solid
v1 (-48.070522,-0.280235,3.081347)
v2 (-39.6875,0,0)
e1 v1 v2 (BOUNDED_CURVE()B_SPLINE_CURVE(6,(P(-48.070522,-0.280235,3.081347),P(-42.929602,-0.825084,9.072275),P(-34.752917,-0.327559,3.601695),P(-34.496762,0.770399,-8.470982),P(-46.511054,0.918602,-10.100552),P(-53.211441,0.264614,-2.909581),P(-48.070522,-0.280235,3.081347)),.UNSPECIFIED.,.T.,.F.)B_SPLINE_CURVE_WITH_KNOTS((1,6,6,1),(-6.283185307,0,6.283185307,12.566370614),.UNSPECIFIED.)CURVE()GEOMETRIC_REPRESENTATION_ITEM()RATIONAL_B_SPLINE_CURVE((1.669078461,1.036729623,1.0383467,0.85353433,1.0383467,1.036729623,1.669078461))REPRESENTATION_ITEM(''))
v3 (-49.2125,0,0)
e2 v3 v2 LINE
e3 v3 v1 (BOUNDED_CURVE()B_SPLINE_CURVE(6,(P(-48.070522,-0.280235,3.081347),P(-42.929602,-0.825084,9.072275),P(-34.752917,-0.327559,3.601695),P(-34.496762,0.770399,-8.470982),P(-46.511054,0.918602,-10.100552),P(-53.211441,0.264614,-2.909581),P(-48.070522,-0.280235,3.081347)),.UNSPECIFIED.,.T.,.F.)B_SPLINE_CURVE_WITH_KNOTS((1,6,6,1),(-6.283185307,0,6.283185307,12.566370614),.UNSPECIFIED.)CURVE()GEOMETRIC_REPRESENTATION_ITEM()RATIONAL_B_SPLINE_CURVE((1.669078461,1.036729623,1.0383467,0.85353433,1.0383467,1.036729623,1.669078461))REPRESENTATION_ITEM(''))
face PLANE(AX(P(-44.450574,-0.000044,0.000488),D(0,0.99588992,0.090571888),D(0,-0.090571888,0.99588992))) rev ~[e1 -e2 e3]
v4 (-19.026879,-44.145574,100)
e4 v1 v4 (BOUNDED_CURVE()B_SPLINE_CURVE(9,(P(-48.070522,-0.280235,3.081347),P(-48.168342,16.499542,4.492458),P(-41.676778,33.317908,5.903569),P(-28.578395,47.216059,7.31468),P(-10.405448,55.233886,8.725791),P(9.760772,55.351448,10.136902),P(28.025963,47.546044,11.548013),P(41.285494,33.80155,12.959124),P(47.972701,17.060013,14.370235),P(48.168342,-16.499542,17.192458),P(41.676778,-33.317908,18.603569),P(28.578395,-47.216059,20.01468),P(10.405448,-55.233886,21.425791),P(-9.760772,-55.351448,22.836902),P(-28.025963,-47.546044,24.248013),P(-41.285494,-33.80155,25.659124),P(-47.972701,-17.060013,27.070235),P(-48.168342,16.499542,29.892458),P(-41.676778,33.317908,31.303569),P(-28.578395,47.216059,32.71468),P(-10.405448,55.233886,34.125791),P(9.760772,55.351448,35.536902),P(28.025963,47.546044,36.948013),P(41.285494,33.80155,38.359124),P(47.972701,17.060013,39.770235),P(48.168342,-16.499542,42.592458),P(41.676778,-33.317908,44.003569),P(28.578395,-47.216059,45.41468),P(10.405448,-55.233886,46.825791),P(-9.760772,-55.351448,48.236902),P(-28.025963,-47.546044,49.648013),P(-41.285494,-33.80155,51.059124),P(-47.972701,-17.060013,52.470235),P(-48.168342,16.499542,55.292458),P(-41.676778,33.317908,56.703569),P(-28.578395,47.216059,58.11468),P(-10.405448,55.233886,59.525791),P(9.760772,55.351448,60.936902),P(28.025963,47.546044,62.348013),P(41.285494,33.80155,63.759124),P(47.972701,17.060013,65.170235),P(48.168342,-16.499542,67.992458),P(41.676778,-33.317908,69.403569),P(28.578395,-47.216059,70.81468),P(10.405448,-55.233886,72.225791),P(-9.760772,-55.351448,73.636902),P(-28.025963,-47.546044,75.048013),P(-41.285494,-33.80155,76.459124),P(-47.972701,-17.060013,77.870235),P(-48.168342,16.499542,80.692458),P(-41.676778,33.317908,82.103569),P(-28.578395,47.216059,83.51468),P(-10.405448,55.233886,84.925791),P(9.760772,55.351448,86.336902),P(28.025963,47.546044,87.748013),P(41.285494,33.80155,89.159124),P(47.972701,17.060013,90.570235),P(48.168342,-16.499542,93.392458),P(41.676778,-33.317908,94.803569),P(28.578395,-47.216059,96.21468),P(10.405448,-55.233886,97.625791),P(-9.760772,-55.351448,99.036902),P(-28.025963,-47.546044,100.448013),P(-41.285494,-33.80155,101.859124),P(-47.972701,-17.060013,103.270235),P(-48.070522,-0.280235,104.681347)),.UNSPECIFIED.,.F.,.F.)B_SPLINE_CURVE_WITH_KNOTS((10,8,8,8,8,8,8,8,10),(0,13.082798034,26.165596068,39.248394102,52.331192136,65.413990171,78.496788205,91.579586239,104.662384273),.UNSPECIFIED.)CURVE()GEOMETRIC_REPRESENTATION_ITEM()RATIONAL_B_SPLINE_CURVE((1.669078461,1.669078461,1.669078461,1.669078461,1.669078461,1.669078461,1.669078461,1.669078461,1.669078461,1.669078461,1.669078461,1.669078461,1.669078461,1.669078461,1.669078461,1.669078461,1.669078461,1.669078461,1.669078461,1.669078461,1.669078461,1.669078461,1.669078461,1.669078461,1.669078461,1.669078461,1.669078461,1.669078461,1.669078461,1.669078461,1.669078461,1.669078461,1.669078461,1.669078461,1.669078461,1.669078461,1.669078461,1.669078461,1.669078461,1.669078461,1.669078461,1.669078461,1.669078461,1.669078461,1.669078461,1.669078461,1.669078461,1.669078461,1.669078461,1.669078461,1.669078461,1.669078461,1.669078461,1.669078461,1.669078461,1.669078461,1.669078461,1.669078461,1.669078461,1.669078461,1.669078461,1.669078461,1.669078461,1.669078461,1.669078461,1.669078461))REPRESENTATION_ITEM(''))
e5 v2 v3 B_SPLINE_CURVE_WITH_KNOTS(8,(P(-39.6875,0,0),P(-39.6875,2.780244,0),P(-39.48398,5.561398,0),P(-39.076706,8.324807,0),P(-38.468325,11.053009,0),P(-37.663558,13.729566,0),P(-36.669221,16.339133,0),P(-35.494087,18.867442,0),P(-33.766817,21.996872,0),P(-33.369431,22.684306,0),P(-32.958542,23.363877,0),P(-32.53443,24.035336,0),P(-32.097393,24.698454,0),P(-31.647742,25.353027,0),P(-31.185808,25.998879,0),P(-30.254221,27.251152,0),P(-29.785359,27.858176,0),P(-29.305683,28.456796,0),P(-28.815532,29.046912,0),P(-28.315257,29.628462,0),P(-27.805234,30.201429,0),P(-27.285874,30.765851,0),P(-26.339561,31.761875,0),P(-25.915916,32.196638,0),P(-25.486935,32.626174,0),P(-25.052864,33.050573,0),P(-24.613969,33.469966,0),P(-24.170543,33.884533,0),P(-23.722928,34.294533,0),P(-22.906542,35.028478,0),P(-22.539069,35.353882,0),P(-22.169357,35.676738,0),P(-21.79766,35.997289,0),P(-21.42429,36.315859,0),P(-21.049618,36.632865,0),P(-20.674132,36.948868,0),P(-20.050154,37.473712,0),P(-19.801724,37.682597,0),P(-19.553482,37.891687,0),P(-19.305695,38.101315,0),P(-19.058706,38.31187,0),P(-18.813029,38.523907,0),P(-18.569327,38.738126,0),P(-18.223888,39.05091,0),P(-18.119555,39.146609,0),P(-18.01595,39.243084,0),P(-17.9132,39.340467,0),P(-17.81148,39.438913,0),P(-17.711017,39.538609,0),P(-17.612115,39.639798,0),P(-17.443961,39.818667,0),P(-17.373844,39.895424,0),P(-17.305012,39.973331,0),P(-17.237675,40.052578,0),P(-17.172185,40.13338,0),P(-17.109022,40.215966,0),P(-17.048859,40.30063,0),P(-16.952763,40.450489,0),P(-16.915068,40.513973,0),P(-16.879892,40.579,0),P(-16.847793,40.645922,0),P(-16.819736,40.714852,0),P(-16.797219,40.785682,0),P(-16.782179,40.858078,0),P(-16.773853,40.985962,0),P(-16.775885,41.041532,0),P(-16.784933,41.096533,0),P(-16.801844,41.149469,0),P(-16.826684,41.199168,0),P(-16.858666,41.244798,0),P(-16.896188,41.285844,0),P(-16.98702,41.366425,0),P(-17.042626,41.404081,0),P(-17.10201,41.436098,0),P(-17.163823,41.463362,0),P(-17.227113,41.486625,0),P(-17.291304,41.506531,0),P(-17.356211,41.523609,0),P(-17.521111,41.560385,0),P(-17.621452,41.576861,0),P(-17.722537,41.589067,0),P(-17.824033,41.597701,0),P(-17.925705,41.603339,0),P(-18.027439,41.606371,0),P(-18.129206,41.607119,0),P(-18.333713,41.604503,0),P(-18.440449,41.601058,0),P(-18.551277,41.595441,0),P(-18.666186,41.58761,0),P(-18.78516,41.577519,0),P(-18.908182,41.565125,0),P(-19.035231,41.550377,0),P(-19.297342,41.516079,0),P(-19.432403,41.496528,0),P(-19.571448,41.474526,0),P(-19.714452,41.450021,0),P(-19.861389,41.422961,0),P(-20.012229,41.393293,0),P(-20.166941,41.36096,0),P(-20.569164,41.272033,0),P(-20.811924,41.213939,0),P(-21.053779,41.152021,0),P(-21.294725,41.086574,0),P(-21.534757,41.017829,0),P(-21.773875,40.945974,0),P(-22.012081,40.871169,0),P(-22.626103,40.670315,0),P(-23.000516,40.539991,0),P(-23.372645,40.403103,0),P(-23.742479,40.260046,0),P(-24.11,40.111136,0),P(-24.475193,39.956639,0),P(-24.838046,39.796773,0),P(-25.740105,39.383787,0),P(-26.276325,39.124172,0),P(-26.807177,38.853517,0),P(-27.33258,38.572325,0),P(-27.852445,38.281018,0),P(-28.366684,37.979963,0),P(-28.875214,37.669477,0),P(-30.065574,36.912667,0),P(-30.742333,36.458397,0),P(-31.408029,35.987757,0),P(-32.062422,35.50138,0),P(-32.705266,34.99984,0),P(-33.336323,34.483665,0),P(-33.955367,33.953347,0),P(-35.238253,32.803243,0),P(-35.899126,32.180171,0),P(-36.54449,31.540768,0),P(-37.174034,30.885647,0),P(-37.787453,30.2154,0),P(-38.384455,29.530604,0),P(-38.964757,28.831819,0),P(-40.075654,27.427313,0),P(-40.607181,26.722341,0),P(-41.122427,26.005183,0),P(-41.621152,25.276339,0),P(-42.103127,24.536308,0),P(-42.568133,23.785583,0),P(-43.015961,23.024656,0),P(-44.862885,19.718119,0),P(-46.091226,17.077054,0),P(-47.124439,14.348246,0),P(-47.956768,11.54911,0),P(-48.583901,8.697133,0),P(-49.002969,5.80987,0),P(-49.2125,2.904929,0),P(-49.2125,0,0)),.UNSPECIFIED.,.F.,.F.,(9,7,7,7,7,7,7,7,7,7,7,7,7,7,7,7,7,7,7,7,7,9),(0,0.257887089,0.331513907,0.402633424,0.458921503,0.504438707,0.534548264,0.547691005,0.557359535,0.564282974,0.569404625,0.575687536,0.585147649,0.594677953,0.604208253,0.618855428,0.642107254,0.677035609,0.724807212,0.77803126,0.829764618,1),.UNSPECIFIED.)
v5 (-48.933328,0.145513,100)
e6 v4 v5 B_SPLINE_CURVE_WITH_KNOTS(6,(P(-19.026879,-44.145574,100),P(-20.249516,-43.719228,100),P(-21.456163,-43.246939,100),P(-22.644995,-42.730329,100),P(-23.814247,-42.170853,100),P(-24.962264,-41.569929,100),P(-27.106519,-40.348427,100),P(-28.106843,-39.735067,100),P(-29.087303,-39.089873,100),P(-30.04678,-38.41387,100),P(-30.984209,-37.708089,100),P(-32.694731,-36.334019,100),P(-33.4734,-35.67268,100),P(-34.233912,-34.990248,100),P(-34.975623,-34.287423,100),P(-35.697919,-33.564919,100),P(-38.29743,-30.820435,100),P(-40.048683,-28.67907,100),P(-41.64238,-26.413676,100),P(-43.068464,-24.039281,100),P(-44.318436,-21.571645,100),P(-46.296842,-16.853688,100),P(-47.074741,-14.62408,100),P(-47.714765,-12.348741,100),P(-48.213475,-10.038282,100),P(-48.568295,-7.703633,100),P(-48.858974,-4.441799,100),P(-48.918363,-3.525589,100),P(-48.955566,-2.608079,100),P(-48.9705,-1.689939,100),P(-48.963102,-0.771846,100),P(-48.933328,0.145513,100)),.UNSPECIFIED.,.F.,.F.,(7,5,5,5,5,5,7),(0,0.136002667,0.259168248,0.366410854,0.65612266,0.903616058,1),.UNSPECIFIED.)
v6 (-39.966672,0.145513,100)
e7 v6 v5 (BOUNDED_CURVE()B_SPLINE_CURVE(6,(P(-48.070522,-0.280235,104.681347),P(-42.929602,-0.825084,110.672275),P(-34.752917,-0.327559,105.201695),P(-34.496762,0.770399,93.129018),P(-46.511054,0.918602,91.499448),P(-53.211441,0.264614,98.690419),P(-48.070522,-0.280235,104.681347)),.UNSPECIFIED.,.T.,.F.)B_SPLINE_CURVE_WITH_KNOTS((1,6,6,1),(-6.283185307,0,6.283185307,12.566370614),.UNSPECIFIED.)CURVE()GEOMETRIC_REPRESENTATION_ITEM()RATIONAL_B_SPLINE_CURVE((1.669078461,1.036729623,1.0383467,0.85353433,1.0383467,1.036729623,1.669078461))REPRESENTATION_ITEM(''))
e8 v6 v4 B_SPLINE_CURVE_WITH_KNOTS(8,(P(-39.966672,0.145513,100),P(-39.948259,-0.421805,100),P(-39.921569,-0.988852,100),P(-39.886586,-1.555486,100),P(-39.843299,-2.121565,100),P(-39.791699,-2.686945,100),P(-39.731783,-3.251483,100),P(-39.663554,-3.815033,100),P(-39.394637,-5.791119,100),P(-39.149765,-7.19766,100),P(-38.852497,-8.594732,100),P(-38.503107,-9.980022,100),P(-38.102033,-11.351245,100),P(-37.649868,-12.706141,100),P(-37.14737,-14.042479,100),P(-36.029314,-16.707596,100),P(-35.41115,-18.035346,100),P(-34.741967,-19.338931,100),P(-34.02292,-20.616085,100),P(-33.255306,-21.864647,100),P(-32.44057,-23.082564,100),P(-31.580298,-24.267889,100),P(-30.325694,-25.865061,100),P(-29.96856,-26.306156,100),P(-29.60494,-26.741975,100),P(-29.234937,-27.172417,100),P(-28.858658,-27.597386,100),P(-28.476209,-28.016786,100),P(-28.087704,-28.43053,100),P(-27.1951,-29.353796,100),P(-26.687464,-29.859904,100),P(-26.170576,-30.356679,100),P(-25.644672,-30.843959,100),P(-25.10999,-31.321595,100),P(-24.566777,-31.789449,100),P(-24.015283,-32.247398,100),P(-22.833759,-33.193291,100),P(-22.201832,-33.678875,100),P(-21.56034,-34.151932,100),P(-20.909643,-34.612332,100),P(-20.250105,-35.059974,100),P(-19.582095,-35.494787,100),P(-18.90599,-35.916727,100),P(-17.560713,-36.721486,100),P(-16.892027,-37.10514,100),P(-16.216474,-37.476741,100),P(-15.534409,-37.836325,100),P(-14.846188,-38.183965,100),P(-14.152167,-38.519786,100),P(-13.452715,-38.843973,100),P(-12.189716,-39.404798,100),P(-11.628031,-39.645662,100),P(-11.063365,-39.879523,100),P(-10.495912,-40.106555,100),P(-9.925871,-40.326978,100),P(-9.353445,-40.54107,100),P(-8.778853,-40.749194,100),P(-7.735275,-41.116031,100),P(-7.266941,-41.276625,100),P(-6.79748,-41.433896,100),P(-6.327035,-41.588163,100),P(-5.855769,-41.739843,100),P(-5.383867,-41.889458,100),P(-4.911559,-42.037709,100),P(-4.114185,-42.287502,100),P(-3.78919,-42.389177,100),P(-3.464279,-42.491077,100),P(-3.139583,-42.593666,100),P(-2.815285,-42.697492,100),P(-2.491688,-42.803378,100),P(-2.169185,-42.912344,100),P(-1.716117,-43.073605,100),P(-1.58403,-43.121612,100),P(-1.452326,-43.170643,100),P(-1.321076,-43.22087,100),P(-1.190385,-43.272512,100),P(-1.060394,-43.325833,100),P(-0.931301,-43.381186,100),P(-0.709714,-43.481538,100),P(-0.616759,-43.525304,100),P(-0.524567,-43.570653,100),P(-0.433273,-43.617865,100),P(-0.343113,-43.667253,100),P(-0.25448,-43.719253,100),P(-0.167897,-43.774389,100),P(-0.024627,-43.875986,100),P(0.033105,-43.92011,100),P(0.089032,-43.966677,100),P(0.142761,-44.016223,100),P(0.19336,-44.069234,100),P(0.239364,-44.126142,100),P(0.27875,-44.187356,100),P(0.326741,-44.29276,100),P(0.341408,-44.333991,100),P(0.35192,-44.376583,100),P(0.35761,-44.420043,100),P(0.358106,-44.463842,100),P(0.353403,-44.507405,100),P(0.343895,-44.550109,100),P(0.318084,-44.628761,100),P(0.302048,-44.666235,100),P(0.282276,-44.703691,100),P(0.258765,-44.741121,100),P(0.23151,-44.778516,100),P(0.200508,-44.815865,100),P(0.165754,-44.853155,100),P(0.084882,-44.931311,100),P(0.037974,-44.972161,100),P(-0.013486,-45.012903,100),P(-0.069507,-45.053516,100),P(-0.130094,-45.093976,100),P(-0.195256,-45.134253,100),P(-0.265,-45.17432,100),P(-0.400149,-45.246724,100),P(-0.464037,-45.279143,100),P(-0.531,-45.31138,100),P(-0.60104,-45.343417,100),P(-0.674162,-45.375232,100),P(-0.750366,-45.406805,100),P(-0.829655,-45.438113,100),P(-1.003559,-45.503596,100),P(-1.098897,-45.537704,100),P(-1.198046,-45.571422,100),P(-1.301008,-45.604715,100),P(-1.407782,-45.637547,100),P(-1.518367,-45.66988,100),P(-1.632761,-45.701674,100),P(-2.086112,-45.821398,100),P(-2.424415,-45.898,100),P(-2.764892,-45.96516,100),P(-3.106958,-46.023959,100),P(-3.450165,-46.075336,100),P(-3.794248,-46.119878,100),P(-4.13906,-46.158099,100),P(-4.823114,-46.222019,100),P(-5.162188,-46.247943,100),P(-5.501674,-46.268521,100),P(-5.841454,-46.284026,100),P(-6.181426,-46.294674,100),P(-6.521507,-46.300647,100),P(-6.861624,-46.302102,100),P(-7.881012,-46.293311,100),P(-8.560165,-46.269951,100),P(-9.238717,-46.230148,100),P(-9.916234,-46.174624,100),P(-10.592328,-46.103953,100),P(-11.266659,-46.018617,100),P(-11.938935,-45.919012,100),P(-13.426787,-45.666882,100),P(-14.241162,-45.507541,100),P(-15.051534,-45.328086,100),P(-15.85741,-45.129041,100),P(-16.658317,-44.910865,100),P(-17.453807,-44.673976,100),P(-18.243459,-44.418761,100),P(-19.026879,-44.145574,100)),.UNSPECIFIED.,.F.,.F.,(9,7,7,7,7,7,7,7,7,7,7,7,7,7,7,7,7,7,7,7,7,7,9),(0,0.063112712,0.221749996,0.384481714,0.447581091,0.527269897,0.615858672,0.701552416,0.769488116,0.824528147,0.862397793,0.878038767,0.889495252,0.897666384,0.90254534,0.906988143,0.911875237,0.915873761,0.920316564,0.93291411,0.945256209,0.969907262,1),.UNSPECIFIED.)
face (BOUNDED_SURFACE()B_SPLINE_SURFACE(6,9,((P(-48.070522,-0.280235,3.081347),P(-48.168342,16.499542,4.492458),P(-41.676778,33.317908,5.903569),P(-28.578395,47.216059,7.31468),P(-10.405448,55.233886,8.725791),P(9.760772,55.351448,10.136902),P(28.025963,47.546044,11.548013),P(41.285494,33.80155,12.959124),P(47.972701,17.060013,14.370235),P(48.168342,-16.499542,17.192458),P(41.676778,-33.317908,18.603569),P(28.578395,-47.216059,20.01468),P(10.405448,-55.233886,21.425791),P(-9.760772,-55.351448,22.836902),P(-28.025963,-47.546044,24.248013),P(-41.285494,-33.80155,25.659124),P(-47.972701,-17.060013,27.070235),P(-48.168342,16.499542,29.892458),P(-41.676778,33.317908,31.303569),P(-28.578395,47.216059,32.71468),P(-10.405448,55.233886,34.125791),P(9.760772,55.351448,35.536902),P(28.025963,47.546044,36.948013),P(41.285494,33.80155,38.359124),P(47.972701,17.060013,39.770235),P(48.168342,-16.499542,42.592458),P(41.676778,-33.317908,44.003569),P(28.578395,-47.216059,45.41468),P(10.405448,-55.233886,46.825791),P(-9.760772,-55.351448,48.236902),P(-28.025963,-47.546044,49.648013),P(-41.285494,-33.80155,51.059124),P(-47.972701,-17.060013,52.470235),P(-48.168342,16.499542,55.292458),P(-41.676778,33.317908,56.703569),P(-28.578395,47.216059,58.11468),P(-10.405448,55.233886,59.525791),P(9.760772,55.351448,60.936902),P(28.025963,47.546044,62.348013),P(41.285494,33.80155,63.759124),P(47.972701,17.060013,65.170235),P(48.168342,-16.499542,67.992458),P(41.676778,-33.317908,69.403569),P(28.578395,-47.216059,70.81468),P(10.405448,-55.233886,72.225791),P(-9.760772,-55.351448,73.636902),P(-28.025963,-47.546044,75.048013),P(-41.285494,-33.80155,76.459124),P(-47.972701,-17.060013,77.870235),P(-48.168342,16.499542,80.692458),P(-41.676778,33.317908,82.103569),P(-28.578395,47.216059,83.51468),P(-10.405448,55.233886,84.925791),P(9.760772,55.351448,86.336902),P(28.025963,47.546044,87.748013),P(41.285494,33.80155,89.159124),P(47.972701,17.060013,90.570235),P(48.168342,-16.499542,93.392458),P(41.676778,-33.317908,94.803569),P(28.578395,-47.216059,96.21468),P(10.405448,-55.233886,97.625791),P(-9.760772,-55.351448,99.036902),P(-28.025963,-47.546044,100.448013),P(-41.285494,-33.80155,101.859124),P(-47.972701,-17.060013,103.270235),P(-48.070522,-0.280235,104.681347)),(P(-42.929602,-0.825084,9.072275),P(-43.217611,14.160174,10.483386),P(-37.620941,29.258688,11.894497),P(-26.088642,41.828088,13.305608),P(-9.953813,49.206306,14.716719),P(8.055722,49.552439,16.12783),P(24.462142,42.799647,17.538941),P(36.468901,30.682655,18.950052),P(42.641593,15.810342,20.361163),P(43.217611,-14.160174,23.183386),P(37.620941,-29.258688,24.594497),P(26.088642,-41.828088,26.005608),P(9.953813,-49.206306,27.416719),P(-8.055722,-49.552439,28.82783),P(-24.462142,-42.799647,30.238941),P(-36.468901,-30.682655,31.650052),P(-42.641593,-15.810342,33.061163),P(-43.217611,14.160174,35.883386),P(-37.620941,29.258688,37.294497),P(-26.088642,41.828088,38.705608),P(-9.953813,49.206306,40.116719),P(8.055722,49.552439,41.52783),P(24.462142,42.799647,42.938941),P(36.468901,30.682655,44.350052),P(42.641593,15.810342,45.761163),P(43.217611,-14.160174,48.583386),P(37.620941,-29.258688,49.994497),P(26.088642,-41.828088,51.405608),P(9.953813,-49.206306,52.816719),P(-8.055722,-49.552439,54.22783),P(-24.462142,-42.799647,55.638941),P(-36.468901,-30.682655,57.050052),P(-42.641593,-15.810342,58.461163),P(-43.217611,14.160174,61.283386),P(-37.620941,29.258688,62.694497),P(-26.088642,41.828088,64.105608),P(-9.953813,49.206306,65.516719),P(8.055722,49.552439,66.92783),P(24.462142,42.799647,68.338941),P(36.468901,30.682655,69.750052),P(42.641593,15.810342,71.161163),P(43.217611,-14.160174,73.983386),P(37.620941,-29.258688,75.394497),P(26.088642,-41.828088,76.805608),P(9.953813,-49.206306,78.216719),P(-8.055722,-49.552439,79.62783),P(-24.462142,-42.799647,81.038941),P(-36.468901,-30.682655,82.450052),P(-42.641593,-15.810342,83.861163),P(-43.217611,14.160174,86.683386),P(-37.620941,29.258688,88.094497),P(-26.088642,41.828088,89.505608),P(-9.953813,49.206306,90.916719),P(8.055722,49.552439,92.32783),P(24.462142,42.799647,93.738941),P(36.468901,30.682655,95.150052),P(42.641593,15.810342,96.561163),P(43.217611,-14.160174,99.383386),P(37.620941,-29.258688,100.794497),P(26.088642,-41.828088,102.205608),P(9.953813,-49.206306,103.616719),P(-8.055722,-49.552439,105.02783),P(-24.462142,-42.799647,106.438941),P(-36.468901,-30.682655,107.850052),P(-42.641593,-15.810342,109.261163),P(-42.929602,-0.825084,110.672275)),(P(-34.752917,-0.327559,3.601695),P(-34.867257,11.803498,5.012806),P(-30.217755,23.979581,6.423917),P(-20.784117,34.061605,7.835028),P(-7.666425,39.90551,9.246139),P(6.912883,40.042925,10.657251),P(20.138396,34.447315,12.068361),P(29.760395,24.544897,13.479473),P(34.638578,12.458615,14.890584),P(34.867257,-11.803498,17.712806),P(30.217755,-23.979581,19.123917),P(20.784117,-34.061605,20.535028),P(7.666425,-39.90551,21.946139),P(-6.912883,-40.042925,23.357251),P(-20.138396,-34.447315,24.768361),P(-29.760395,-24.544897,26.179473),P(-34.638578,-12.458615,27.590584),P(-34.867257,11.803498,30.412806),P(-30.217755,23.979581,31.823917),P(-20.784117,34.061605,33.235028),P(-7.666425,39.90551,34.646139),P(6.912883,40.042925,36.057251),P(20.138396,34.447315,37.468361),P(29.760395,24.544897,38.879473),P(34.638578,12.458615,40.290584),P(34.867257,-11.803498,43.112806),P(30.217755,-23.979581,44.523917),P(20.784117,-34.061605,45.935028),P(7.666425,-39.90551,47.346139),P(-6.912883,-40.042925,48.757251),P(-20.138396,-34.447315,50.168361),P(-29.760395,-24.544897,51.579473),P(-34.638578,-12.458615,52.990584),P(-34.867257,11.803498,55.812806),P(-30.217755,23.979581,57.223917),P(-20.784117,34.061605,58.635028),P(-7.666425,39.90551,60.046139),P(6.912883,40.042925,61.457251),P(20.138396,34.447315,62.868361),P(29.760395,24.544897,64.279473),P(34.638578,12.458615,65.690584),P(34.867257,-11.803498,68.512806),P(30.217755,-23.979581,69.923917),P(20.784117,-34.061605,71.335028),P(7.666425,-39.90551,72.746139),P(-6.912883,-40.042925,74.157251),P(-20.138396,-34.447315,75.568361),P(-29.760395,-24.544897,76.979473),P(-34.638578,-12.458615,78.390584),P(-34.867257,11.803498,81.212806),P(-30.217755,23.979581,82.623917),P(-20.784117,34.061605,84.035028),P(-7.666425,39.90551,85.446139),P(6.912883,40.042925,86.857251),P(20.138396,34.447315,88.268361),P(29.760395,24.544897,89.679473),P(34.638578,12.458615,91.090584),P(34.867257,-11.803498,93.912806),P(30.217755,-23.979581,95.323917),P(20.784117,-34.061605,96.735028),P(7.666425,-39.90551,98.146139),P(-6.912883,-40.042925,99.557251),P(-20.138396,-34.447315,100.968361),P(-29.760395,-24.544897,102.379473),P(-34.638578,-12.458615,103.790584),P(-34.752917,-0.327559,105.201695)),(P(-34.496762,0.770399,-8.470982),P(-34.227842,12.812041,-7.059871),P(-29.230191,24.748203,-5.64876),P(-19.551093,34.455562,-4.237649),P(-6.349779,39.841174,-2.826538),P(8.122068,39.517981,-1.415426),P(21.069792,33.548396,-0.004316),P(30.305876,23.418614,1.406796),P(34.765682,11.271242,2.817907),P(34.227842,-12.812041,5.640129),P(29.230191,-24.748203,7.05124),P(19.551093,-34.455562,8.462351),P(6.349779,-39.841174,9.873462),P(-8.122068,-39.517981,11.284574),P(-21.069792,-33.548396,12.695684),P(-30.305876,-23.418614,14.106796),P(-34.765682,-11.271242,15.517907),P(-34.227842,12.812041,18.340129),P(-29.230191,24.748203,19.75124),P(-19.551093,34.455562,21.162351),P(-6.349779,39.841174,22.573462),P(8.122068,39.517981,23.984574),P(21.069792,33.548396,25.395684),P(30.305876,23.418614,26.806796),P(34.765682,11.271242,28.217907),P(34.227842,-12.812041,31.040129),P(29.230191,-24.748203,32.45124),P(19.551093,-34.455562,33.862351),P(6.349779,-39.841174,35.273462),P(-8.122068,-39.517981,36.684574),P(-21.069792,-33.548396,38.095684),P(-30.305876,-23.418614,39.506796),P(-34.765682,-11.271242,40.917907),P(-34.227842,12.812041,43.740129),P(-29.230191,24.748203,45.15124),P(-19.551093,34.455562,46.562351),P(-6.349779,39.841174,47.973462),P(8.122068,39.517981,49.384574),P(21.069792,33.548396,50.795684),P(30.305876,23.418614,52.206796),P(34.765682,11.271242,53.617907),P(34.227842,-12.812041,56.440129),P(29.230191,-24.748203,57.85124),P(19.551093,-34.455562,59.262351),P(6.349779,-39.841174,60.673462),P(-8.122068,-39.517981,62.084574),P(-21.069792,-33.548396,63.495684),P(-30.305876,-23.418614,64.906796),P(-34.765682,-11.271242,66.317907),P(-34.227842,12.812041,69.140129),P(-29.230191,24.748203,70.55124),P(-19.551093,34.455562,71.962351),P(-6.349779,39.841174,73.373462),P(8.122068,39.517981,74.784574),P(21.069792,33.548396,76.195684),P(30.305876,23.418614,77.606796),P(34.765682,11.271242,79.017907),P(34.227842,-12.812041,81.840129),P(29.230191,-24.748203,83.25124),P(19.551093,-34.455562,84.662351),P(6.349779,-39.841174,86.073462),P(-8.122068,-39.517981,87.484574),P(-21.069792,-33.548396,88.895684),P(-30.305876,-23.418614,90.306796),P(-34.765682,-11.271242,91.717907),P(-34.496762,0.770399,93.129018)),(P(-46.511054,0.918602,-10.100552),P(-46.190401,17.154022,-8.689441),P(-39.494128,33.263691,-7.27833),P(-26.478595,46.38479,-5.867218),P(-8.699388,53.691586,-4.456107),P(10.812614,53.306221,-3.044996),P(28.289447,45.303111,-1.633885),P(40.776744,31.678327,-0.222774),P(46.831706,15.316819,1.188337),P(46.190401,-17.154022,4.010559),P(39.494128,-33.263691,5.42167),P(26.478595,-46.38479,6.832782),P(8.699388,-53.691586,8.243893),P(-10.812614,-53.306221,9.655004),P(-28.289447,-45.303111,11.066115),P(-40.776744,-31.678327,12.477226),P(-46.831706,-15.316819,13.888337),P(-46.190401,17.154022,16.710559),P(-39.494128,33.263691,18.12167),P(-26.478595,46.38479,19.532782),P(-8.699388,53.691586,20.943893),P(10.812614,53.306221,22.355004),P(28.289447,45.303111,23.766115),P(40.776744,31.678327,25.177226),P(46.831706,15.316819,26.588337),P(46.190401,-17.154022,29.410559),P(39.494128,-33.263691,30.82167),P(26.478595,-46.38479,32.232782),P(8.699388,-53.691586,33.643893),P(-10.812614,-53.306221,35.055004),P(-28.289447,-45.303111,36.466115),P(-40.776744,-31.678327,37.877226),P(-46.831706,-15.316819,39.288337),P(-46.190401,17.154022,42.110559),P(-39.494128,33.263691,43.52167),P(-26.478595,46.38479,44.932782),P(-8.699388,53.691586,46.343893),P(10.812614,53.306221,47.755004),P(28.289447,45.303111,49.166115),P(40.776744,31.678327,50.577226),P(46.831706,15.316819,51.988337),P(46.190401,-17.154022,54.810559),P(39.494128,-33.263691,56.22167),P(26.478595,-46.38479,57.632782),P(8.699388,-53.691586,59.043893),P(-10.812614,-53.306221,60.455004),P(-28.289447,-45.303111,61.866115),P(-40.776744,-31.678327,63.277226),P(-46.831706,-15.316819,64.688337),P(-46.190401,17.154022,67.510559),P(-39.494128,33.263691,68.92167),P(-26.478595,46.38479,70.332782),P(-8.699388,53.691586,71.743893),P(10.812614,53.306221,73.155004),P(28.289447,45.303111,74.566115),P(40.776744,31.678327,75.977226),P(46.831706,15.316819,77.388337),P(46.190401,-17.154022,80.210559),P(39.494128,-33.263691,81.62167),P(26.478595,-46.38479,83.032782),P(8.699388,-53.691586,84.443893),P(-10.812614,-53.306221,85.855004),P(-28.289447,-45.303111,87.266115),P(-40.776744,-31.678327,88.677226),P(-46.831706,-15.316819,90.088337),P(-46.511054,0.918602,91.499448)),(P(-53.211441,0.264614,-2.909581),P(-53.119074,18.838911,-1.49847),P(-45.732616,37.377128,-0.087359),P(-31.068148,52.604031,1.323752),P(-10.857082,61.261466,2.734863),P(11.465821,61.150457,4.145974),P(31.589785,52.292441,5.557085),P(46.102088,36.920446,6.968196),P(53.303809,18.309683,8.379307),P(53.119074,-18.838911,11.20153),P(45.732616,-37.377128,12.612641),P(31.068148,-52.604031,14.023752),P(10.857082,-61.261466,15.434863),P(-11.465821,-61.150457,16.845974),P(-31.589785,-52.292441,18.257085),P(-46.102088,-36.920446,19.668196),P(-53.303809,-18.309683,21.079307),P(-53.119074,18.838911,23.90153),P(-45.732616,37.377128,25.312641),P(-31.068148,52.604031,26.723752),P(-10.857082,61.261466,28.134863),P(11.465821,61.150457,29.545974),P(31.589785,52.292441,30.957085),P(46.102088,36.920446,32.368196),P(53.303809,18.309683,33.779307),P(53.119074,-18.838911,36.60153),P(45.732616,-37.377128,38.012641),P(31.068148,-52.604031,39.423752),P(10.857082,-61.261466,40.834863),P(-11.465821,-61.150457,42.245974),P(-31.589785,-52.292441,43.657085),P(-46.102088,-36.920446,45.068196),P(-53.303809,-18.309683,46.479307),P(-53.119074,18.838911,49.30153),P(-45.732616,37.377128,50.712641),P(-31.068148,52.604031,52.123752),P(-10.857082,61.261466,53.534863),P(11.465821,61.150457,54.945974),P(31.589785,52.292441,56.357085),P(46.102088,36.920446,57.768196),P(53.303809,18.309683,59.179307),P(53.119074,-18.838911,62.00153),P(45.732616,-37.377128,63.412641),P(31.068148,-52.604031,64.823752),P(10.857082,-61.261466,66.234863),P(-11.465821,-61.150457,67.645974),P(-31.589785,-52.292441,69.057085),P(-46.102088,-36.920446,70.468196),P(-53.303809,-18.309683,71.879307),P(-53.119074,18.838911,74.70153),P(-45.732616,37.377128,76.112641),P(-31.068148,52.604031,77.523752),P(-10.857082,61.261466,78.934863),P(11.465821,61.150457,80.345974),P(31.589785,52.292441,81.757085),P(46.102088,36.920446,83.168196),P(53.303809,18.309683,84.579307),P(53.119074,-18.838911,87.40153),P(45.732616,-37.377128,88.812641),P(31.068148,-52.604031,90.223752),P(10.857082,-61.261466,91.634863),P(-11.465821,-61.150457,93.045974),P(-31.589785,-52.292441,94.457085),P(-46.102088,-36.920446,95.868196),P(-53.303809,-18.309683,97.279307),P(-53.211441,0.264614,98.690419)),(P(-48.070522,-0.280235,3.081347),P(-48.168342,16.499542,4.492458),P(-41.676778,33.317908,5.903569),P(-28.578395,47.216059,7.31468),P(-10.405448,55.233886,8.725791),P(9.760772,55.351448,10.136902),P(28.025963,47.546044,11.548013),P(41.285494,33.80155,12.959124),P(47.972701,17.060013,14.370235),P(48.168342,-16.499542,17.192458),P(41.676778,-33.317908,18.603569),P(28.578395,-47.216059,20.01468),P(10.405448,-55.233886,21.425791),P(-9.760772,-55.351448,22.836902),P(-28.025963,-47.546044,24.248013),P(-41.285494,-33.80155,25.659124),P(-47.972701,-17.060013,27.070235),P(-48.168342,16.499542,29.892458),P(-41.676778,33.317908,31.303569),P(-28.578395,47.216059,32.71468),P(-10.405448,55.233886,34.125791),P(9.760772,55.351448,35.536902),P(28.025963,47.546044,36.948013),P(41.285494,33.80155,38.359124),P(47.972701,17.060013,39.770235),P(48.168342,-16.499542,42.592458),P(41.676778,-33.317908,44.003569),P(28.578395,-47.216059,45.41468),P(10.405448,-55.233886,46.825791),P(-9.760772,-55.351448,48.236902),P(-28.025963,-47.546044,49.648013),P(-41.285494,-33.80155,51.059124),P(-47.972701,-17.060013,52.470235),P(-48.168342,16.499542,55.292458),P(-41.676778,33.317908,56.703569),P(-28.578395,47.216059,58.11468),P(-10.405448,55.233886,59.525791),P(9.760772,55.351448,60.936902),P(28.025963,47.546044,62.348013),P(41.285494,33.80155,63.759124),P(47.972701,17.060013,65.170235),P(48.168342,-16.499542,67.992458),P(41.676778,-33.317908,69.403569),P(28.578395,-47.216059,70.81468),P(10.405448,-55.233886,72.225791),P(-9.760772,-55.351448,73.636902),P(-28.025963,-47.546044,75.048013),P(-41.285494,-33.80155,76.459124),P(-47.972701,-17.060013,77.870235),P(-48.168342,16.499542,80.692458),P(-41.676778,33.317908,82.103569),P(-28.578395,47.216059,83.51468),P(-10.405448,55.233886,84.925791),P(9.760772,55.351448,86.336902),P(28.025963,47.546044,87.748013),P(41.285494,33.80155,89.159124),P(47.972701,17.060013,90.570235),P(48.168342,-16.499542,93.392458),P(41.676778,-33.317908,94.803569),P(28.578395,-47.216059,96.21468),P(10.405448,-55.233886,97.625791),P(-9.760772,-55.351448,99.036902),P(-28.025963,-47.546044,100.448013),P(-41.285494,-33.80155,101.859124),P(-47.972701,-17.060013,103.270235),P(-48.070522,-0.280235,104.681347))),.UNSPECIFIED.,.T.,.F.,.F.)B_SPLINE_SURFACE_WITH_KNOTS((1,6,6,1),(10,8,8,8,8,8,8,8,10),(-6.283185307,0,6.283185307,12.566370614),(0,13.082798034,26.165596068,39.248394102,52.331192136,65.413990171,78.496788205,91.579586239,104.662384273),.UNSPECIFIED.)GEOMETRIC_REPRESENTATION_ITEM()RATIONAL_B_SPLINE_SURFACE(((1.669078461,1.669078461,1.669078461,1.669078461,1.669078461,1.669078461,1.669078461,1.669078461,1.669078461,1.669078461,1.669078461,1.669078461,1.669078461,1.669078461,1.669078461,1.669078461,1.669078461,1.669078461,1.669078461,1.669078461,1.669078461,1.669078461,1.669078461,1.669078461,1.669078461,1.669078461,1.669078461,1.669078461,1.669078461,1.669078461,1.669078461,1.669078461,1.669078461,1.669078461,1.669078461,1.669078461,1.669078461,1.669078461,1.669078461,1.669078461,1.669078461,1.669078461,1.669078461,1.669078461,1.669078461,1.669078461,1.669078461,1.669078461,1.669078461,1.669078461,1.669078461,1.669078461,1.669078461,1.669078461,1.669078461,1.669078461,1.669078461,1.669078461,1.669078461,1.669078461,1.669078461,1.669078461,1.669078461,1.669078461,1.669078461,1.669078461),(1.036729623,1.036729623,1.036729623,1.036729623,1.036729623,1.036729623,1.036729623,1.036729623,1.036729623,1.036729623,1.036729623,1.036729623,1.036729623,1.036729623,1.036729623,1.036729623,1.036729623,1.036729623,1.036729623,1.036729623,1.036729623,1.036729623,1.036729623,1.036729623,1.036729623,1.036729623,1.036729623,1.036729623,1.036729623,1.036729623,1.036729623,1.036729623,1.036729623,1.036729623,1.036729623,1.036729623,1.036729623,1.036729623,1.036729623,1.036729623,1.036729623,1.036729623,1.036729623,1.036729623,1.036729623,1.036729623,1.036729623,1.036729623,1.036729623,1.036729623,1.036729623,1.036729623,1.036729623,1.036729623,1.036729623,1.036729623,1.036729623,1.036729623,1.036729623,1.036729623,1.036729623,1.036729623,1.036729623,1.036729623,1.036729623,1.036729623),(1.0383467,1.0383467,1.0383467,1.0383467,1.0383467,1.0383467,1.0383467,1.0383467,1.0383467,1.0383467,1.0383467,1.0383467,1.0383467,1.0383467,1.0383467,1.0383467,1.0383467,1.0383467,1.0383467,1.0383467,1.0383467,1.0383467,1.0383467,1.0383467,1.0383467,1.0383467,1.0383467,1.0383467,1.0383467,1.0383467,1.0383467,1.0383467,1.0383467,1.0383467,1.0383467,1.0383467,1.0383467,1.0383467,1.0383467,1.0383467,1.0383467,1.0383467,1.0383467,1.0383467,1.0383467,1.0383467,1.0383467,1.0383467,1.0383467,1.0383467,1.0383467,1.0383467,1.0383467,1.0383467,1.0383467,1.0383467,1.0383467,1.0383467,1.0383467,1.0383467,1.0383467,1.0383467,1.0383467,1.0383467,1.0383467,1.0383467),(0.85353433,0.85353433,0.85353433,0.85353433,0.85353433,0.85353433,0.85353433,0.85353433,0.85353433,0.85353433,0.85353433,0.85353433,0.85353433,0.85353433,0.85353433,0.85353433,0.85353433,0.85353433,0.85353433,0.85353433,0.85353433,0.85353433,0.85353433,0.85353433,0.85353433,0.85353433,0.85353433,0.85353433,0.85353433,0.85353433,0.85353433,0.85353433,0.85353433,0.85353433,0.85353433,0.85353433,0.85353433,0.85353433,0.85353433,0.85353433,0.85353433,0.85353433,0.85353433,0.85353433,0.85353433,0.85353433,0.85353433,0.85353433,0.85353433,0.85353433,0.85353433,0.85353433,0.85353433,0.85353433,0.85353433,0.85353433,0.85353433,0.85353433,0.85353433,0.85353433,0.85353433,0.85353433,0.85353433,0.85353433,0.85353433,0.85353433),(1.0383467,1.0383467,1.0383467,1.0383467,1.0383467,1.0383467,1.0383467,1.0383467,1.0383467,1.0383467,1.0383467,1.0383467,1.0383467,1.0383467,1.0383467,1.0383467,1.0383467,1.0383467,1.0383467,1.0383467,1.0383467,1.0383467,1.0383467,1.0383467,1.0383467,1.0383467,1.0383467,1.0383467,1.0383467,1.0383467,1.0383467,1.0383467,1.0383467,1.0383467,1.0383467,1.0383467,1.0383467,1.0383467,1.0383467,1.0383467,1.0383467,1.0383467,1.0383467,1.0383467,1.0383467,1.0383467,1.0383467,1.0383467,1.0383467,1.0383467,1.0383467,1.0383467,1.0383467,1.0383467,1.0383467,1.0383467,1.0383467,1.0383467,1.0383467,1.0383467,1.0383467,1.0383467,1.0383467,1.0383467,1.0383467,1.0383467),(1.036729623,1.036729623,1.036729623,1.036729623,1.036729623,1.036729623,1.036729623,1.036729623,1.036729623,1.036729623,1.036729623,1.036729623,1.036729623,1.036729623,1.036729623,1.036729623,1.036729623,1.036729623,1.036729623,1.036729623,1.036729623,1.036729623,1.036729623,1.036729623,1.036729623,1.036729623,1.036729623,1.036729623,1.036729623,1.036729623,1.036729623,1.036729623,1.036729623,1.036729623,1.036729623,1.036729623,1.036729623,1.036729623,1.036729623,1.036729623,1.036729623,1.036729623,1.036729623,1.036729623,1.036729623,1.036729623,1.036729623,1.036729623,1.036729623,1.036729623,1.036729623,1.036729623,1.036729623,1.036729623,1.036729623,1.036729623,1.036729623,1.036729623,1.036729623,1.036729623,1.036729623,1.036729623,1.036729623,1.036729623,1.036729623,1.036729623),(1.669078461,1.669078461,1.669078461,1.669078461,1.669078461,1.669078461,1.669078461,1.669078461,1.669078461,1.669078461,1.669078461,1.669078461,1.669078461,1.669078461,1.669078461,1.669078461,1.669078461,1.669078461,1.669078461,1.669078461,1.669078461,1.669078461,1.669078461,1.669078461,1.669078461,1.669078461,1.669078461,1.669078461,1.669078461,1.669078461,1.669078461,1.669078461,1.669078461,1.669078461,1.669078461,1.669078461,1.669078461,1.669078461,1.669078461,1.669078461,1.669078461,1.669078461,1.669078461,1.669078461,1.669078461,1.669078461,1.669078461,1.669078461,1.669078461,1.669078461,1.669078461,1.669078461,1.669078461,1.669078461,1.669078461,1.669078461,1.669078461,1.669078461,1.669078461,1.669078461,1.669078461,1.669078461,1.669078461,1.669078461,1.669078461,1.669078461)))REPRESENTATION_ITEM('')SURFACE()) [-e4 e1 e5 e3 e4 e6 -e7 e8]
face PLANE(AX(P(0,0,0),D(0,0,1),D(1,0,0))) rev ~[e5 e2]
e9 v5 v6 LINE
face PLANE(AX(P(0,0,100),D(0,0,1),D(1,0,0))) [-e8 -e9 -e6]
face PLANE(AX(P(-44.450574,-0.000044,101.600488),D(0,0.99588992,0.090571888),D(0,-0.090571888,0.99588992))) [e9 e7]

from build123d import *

# Parameters (mm, degrees)
SWEEP1_PITCH       = 25.4
SWEEP1_HEIGHT      = 101.6
SWEEP1_RADIUS      = 44.45
SWEEP1_START_ANGLE = -180
SKETCH2_R          = 4.7625


with BuildPart() as part:
    # Sweep1: sweep along a helix
    with BuildLine() as sweep1_path:
        add(Helix(SWEEP1_PITCH, SWEEP1_HEIGHT, SWEEP1_RADIUS, center=(0, 0, 0), direction=(0, 0, 1), lefthand=True, mode=Mode.PRIVATE).rotate(Axis((0, 0, 0), (0, 0, 1)), SWEEP1_START_ANGLE))
    # Sketch2 → Sweep1 (sweep)
    with BuildSketch(Plane(origin=(-44.45, 0, 101.6), x_dir=(-0.7602145395913772, -0.05884202965445457, 0.6470019082970426), z_dir=(4.831551825290603e-14, 0.9958899201960775, 0.09057188775691061))):
        Circle(SKETCH2_R)
    sweep(path=sweep1_path.line, is_frenet=True)

    # SurfaceCut1
    split(bisect_by=Plane.XY, keep=Keep.TOP)

    # SurfaceCut3
    split(bisect_by=Plane.XY.offset(99.999999898), keep=Keep.BOTTOM)


solid = part.part
